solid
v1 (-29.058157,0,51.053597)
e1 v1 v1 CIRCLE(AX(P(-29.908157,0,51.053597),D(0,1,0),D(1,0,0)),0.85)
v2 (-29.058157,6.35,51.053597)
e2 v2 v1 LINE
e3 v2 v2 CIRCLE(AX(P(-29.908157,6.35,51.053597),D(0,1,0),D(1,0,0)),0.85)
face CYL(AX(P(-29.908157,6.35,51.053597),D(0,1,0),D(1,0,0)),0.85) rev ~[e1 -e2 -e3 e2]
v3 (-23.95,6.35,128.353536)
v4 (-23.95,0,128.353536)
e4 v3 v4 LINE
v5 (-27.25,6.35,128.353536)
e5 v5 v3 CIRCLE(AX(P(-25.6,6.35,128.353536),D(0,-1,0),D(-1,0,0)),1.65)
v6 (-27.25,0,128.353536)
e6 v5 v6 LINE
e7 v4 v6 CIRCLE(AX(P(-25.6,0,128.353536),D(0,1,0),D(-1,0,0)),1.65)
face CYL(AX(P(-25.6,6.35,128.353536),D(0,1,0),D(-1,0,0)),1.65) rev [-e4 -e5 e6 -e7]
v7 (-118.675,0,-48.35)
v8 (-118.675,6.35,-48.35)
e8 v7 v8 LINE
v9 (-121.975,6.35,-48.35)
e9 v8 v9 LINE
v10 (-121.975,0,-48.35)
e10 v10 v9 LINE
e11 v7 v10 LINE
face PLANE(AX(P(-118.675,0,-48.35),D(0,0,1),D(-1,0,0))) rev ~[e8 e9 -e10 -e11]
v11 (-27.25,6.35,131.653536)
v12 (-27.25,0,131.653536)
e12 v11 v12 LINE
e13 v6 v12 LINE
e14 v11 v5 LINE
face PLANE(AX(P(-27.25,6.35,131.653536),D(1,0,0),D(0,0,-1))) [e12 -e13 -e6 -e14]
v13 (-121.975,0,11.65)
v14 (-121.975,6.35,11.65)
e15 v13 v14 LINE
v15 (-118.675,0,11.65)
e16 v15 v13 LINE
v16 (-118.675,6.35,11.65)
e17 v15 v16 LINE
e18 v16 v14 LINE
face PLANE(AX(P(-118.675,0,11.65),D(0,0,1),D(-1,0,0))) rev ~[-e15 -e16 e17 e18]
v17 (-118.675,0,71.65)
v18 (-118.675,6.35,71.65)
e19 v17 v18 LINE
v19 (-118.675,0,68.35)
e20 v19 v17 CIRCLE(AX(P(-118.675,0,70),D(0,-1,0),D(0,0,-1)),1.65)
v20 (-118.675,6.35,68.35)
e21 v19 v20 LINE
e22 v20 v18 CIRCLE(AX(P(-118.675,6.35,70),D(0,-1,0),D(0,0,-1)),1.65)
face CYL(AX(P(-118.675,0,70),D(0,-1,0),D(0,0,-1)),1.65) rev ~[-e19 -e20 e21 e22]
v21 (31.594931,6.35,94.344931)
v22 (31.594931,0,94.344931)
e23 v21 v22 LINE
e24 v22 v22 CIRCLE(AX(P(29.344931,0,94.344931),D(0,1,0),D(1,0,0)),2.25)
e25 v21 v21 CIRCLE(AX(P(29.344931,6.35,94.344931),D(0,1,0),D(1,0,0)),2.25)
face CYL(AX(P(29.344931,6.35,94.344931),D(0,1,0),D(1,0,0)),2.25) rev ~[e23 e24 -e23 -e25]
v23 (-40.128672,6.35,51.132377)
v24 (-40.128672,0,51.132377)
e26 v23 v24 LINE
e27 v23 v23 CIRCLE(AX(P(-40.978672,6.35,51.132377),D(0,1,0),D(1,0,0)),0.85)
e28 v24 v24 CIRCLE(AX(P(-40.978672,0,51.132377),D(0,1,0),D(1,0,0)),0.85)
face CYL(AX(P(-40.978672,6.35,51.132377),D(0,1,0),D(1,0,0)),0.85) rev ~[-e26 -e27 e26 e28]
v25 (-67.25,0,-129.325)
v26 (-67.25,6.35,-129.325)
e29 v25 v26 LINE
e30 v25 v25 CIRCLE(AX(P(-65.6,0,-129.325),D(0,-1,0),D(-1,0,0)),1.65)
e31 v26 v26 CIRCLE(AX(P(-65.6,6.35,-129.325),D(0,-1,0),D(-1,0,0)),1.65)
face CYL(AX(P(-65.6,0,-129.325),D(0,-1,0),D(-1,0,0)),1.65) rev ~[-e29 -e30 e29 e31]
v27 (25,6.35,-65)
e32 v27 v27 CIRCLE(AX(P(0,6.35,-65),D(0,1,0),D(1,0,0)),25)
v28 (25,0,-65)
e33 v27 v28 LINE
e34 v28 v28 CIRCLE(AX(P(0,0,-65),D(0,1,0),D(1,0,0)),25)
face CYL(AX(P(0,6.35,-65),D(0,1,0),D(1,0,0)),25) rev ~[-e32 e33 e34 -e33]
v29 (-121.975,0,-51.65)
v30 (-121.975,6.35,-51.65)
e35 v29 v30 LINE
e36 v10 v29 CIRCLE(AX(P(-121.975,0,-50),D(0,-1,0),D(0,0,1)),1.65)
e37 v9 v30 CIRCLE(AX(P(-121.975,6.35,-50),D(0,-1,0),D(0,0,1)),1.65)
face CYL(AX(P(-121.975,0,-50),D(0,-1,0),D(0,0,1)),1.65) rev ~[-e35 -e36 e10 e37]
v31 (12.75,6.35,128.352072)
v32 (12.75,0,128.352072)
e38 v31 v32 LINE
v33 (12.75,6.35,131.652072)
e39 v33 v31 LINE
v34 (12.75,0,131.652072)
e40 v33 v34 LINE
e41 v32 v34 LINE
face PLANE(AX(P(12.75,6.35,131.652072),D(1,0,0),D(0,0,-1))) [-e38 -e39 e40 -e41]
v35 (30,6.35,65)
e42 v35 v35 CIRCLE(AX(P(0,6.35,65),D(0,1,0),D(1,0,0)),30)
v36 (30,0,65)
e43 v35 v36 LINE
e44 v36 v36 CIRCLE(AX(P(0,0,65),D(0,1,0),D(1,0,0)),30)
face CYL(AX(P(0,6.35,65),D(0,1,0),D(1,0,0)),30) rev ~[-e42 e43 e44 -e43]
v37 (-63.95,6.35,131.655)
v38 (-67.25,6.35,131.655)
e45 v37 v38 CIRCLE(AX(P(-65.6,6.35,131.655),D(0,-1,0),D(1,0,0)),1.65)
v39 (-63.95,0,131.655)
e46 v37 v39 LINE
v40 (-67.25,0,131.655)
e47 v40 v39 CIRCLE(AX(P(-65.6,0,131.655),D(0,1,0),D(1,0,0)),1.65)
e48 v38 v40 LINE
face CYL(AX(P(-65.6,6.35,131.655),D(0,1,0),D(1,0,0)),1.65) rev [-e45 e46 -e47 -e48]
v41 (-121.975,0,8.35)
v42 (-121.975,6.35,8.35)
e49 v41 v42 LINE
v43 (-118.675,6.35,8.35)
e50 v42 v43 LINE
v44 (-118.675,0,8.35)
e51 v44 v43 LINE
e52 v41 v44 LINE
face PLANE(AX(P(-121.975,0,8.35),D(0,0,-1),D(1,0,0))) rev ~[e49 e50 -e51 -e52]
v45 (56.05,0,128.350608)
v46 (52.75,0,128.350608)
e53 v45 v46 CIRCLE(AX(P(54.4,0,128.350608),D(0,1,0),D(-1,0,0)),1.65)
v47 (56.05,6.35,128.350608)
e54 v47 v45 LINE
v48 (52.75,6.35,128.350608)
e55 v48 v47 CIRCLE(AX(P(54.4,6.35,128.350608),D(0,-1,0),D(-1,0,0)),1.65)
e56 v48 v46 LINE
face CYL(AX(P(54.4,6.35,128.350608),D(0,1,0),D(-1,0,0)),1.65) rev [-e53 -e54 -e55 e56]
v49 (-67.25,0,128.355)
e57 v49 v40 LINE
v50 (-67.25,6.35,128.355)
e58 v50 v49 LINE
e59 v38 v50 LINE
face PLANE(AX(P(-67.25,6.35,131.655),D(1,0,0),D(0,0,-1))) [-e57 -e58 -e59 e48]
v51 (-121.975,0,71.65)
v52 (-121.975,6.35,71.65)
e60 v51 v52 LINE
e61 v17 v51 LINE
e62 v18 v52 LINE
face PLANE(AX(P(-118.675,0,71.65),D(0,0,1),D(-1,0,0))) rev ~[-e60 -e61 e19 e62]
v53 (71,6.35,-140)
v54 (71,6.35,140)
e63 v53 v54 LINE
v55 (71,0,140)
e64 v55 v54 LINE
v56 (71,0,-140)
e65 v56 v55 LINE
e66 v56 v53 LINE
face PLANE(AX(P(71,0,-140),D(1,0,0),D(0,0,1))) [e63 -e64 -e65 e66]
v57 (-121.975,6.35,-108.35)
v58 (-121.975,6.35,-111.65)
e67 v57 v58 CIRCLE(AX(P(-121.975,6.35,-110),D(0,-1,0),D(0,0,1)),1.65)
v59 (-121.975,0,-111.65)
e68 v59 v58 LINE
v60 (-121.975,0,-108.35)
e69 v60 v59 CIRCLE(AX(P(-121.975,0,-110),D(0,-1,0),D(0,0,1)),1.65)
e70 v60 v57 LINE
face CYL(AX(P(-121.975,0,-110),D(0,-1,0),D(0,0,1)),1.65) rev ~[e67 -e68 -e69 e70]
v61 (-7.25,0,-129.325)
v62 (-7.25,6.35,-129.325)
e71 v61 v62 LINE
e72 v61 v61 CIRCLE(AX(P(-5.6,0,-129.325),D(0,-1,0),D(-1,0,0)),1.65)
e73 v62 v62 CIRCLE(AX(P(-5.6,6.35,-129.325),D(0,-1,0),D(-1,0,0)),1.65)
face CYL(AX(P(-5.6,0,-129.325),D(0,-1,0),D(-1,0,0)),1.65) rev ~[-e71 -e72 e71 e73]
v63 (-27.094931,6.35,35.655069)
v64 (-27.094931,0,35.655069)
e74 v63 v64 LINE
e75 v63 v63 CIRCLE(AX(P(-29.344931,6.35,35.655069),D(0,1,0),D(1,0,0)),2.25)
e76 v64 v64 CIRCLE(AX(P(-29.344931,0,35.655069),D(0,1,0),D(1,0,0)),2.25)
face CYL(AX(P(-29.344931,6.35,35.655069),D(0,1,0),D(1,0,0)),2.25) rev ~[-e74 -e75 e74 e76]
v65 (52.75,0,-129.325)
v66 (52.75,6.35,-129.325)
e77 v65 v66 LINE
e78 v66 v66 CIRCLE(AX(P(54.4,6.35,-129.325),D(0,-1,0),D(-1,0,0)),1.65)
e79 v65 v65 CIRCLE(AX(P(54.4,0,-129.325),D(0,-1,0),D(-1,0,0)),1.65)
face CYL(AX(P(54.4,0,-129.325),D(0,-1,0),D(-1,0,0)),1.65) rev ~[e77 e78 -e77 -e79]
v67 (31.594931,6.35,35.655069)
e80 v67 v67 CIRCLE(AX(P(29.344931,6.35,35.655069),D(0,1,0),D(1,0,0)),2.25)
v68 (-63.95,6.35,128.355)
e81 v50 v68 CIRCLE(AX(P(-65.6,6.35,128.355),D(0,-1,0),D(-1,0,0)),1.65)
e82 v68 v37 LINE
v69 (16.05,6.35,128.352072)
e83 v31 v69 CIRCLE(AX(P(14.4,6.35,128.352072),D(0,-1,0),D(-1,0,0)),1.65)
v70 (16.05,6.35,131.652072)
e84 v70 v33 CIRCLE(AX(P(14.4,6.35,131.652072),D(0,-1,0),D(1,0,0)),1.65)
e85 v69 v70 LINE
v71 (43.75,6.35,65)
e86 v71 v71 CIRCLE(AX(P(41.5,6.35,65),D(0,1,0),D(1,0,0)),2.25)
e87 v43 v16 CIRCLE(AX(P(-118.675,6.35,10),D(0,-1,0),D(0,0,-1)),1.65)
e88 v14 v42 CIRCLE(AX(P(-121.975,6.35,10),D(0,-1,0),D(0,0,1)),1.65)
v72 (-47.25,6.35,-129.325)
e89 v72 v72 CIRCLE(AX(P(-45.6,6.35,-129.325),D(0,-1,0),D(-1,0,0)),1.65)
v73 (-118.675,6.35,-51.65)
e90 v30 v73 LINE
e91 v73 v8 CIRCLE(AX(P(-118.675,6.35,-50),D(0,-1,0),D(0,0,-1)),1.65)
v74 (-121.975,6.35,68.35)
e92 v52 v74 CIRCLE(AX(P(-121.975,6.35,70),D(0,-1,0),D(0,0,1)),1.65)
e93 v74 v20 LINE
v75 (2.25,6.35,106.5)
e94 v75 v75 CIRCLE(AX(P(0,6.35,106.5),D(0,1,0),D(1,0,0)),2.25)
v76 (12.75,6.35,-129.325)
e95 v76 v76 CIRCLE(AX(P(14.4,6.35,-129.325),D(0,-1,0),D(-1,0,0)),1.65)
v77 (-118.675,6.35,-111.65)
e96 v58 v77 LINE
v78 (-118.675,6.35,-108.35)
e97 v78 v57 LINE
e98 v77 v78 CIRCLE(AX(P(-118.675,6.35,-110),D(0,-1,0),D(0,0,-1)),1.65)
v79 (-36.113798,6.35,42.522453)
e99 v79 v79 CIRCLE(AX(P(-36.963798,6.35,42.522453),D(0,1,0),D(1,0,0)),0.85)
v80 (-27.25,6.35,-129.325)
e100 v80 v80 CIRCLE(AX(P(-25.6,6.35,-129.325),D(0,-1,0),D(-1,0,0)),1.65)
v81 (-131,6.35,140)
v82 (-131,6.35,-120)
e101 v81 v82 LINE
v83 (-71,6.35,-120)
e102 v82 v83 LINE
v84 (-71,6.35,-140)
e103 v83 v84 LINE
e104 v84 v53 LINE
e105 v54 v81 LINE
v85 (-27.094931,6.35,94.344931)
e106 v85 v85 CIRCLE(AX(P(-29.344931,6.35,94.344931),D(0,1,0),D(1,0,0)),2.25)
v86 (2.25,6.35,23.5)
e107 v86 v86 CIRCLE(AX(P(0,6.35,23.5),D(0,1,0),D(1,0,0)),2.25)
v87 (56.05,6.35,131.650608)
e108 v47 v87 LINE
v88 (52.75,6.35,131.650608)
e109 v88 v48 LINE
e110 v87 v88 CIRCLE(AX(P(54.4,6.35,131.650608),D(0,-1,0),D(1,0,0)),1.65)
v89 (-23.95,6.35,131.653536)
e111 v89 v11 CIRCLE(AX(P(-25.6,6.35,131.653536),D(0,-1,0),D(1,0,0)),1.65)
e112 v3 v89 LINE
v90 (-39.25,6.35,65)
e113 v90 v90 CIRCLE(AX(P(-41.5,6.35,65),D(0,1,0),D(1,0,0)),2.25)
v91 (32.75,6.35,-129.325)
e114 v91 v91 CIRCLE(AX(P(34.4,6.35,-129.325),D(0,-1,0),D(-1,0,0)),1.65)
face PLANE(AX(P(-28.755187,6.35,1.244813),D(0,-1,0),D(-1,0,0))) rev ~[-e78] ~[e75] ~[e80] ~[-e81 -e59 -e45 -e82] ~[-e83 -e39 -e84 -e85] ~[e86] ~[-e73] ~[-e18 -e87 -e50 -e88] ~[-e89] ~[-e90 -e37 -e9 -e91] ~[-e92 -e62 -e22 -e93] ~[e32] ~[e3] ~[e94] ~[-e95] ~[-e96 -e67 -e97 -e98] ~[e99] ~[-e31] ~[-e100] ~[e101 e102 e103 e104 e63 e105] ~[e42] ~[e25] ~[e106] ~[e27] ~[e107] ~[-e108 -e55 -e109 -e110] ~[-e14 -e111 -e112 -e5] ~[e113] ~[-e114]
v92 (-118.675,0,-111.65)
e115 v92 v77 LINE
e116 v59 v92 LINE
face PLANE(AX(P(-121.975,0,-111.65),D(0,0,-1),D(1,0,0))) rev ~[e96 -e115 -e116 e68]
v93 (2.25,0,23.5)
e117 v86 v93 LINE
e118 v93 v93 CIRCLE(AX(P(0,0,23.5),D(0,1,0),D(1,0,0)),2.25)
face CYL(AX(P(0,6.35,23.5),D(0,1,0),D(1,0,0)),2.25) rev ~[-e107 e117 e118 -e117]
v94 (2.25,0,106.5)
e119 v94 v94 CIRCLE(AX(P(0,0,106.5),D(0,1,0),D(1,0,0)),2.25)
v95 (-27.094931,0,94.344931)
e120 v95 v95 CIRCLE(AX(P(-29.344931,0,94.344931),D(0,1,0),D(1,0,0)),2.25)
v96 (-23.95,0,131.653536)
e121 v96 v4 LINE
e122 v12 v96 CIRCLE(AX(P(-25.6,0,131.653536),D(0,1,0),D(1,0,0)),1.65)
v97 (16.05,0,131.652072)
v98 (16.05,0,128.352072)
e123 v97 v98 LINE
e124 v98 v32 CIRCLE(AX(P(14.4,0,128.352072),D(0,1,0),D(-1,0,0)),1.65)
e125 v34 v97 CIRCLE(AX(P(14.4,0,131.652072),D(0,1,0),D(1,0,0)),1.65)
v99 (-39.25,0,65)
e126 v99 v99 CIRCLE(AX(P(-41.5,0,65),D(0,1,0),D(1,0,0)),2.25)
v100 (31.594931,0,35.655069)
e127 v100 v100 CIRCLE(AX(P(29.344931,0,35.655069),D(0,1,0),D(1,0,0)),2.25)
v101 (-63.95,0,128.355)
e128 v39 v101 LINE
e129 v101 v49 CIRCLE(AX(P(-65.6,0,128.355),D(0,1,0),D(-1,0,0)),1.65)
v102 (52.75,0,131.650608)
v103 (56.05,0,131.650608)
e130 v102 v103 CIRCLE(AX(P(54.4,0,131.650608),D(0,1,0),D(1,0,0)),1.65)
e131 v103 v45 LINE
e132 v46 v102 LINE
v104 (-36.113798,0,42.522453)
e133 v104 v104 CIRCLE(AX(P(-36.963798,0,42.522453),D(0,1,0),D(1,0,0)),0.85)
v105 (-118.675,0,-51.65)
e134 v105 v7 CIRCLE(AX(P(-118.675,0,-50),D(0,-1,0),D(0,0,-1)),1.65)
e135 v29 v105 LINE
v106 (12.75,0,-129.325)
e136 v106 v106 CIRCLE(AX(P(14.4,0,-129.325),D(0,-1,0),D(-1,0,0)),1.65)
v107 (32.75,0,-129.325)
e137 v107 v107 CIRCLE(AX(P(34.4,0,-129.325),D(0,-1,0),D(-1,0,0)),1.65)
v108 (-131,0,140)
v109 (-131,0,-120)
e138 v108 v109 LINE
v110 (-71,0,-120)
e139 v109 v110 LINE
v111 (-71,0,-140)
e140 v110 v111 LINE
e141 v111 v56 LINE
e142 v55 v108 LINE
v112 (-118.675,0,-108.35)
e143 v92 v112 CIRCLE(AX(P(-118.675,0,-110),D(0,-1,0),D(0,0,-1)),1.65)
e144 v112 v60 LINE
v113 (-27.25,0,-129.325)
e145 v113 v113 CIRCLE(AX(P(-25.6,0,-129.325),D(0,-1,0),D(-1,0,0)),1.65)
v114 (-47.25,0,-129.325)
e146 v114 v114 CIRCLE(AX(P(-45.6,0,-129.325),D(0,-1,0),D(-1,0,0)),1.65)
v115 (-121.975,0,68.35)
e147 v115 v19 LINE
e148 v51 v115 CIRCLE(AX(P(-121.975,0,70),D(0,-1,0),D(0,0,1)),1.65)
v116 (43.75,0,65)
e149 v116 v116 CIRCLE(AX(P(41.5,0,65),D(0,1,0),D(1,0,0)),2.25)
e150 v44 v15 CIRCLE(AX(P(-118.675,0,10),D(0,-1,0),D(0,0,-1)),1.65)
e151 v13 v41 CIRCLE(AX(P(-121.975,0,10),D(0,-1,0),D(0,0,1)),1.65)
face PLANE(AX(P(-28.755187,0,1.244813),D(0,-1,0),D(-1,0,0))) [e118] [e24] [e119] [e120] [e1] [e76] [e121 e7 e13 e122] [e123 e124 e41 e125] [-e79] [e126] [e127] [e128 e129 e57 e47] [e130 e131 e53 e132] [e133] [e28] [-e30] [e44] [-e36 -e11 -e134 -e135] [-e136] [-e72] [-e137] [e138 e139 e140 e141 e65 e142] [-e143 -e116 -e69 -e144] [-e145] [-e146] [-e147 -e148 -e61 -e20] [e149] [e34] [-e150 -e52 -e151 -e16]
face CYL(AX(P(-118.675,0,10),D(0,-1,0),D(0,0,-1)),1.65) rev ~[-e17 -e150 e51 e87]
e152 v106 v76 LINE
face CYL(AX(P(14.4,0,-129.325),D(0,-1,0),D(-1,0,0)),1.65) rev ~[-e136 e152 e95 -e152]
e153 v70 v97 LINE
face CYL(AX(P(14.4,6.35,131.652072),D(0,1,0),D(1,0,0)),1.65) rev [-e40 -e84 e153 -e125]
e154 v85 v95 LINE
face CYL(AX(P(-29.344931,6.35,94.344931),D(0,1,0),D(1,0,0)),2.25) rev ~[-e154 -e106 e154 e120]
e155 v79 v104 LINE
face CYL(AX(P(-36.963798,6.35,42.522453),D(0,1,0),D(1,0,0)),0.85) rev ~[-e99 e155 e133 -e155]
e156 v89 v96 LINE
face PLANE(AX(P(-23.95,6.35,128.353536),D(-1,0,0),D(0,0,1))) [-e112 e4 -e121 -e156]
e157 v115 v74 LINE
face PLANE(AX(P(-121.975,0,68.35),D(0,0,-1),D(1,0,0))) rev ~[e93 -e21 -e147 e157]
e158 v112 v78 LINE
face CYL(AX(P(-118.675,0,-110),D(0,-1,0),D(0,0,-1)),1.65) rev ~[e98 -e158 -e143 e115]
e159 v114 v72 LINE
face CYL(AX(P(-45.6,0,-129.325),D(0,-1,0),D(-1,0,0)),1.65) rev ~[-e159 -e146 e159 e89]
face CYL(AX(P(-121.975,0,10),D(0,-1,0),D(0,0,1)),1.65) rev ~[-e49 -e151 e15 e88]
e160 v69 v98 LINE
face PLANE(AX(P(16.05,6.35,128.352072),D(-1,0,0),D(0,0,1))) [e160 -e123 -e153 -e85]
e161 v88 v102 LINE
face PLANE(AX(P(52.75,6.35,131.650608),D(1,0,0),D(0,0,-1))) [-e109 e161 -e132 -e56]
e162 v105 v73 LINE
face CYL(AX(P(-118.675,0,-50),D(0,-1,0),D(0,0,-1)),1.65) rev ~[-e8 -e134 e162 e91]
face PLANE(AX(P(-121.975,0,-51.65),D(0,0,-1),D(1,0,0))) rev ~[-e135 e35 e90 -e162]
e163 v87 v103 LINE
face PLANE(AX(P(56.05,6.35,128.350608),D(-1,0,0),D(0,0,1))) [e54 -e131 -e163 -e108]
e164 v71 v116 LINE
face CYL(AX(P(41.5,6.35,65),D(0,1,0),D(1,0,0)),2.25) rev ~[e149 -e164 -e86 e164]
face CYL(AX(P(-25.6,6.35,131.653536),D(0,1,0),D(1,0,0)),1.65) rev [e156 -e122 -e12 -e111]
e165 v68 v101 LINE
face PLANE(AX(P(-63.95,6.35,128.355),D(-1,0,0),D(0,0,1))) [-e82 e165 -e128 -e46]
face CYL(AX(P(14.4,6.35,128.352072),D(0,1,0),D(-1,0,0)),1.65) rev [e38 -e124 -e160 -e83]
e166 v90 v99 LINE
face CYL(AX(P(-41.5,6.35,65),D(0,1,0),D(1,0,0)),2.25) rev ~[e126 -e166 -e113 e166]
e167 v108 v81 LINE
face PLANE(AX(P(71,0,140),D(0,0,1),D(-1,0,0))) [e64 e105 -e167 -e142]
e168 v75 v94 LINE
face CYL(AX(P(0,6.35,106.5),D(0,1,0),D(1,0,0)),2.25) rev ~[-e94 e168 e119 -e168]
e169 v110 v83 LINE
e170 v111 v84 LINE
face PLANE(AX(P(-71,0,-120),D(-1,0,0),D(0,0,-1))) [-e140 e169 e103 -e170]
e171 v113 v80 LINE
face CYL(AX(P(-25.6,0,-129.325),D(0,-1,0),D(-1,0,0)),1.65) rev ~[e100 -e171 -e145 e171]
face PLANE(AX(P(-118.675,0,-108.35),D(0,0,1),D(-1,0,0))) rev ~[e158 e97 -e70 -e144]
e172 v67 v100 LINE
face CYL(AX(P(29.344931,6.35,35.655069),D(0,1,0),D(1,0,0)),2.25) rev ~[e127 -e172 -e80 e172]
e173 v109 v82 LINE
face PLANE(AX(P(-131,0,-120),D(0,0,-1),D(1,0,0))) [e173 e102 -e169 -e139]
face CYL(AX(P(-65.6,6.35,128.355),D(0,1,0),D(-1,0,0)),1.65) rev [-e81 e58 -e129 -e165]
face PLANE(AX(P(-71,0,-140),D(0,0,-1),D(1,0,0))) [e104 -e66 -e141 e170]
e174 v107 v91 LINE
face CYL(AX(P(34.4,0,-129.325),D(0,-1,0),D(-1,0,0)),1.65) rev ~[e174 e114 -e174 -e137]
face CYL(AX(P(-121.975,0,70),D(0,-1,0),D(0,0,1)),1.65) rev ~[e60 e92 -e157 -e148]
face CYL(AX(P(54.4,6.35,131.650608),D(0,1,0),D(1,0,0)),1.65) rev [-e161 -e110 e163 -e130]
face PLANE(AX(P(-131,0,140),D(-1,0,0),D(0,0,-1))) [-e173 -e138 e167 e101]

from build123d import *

# Parameters (mm, degrees)
BOSS_EXTRUDE1_DEPTH = 6.35
SKETCH2_R           = 2.25
SKETCH2_R_2         = 30
CUT_EXTRUDE1_DEPTH  = 7.35
SKETCH6_R           = 0.85
CUT_EXTRUDE5_DEPTH  = 7.35
SKETCH8_R           = 25
CUT_EXTRUDE9_DEPTH  = 7.35
SKETCH9_R           = 1.65
CUT_EXTRUDE10_DEPTH = 30
CUT_EXTRUDE12_DEPTH = 30
SKETCH10_R          = 1.65
CUT_EXTRUDE13_DEPTH = 10


with BuildPart() as part:
    # Sketch1 → Boss-Extrude1 (new body)
    with BuildSketch(Plane(origin=(0, 0, 0), x_dir=(1, 0, 0), z_dir=(0, 1, 0))):
        Polygon((-71, 140), (71, 140), (71, -140), (-131, -140), (-131, 120), (-71, 120), align=None)
    extrude(amount=BOSS_EXTRUDE1_DEPTH)

    # Sketch2 → Cut-Extrude1 (cut, through all)
    with BuildSketch(Plane(origin=(0, 6.35, 0), x_dir=(1, 0, 0), z_dir=(0, 1, 0))):
        with Locations((0, -23.5)):
            Circle(SKETCH2_R)
        with Locations((29.344931419, -35.655068581)):
            Circle(SKETCH2_R)
        with Locations((41.5, -65)):
            Circle(SKETCH2_R)
        with Locations((29.344931419, -94.344931419)):
            Circle(SKETCH2_R)
        with Locations((0, -106.5)):
            Circle(SKETCH2_R)
        with Locations((-29.344931419, -94.344931419)):
            Circle(SKETCH2_R)
        with Locations((-41.5, -65)):
            Circle(SKETCH2_R)
        with Locations((-29.344931419, -35.655068581)):
            Circle(SKETCH2_R)
        with Locations((0, -65)):
            Circle(SKETCH2_R_2)
    extrude(amount=-CUT_EXTRUDE1_DEPTH, mode=Mode.SUBTRACT)

    # Sketch6 → Cut-Extrude5 (cut, through all)
    with BuildSketch(Plane(origin=(0, 6.35, 0), x_dir=(1, 0, 0), z_dir=(0, 1, 0))):
        with Locations((-36.963798099, -42.522452757)):
            Circle(SKETCH6_R)
        with Locations((-40.978671586, -51.132376734)):
            Circle(SKETCH6_R)
        with Locations((-29.908156972, -51.053597363)):
            Circle(SKETCH6_R)
    extrude(amount=-CUT_EXTRUDE5_DEPTH, mode=Mode.SUBTRACT)

    # Sketch8 → Cut-Extrude9 (cut, through all)
    with BuildSketch(Plane(origin=(0, 6.35, 0), x_dir=(1, 0, 0), z_dir=(0, 1, 0))):
        with Locations((0, 65)):
            Circle(SKETCH8_R)
    extrude(amount=-CUT_EXTRUDE9_DEPTH, mode=Mode.SUBTRACT)

    # Sketch9 → Cut-Extrude10 (cut)
    with BuildSketch(Plane(origin=(0, 0, 0), x_dir=(-1, 0, 0), z_dir=(0, -1, 0))):
        with Locations((45.6, 129.325)):
            Circle(SKETCH9_R)
        with Locations((5.6, 129.325)):
            Circle(SKETCH9_R)
        with Locations((-34.4, 129.325)):
            Circle(SKETCH9_R)
        with Locations((65.6, 129.325)):
            Circle(SKETCH9_R)
        with Locations((25.6, 129.325)):
            Circle(SKETCH9_R)
        with Locations((-14.4, 129.325)):
            Circle(SKETCH9_R)
        with Locations((-54.4, 129.325)):
            Circle(SKETCH9_R)
    extrude(amount=-CUT_EXTRUDE10_DEPTH, mode=Mode.SUBTRACT)

    # Sketch11 → Cut-Extrude12 (cut)
    with BuildSketch(Plane(origin=(0, 6.35, 0), x_dir=(1, 0, 0), z_dir=(0, 1, 0))):
        with BuildLine():
            Line((-63.95, -128.355), (-63.95, -131.655))
            ThreePointArc((-63.95, -131.655), (-65.6, -133.305), (-67.25, -131.655))
            Line((-67.25, -131.655), (-67.25, -128.355))
            ThreePointArc((-67.25, -128.355), (-65.6, -126.705), (-63.95, -128.355))
        make_face()
        with BuildLine():
            Line((-23.95, -128.353535871), (-23.95, -131.653535871))
            ThreePointArc((-23.95, -131.653535871), (-25.6, -133.303535871), (-27.25, -131.653535871))
            Line((-27.25, -131.653535871), (-27.25, -128.353535871))
            ThreePointArc((-27.25, -128.353535871), (-25.6, -126.703535871), (-23.95, -128.353535871))
        make_face()
        with BuildLine():
            Line((16.05, -128.352071742), (16.05, -131.652071742))
            ThreePointArc((16.05, -131.652071742), (14.4, -133.302071742), (12.75, -131.652071742))
            Line((12.75, -131.652071742), (12.75, -128.352071742))
            ThreePointArc((12.75, -128.352071742), (14.4, -126.702071742), (16.05, -128.352071742))
        make_face()
        with BuildLine():
            Line((56.05, -128.350607613), (56.05, -131.650607613))
            ThreePointArc((56.05, -131.650607613), (54.4, -133.300607613), (52.75, -131.650607613))
            Line((52.75, -131.650607613), (52.75, -128.350607613))
            ThreePointArc((52.75, -128.350607613), (54.4, -126.700607613), (56.05, -128.350607613))
        make_face()
    extrude(amount=-CUT_EXTRUDE12_DEPTH, mode=Mode.SUBTRACT)

    # Sketch10 → Cut-Extrude13 (cut)
    with BuildSketch(Plane.XZ):
        with Locations((-120.325, -110)):
            Circle(SKETCH10_R)
        with BuildLine():
            Line((-118.675, -108.35), (-120.325, -108.35))
            ThreePointArc((-120.325, -108.35), (-119.158273811, -108.833273811), (-118.675, -110))
            ThreePointArc((-118.675, -110), (-119.158273801, -111.166726179), (-120.324999972, -111.65))
            Line((-120.324999972, -111.65), (-118.675, -111.65))
            ThreePointArc((-118.675, -111.65), (-117.025, -110), (-118.675, -108.35))
        make_face()
        with BuildLine():
            Line((-120.325, -108.35), (-121.975, -108.35))
            ThreePointArc((-121.975, -108.35), (-123.625, -110), (-121.975, -111.65))
            Line((-121.975, -111.65), (-120.324999972, -111.65))
            ThreePointArc((-120.324999972, -111.65), (-121.975, -110.000000014), (-120.325, -108.35))
        make_face()
        with BuildLine():
            Line((-120.325, -48.35), (-121.975, -48.35))
            ThreePointArc((-121.975, -48.35), (-123.625, -50), (-121.975, -51.65))
            Line((-121.975, -51.65), (-120.325, -51.65))
            ThreePointArc((-120.325, -51.65), (-121.975, -50), (-120.325, -48.35))
        make_face()
        with Locations((-120.325, -50)):
            Circle(SKETCH10_R)
        with BuildLine():
            Line((-118.675, -48.35), (-120.325, -48.35))
            ThreePointArc((-120.325, -48.35), (-119.158273811, -48.833273811), (-118.675, -50))
            ThreePointArc((-118.675, -50), (-119.158273811, -51.166726189), (-120.325, -51.65))
            Line((-120.325, -51.65), (-118.675, -51.65))
            ThreePointArc((-118.675, -51.65), (-117.025, -50), (-118.675, -48.35))
        make_face()
        with BuildLine():
            Line((-120.325, 11.65), (-121.975, 11.65))
            ThreePointArc((-121.975, 11.65), (-123.625, 10), (-121.975, 8.35))
            Line((-121.975, 8.35), (-120.325, 8.35))
            ThreePointArc((-120.325, 8.35), (-121.975, 10), (-120.325, 11.65))
        make_face()
        with Locations((-120.325, 10)):
            Circle(SKETCH10_R)
        with BuildLine():
            Line((-118.675, 11.65), (-120.325, 11.65))
            ThreePointArc((-120.325, 11.65), (-119.158273811, 11.166726189), (-118.675, 10))
            ThreePointArc((-118.675, 10), (-119.158273811, 8.833273811), (-120.325, 8.35))
            Line((-120.325, 8.35), (-118.675, 8.35))
            ThreePointArc((-118.675, 8.35), (-117.025, 10), (-118.675, 11.65))
        make_face()
        with BuildLine():
            Line((-120.325, 71.65), (-121.975, 71.65))
            ThreePointArc((-121.975, 71.65), (-123.625, 70), (-121.975, 68.35))
            Line((-121.975, 68.35), (-120.325, 68.35))
            ThreePointArc((-120.325, 68.35), (-121.975, 70), (-120.325, 71.65))
        make_face()
        with Locations((-120.325, 70)):
            Circle(SKETCH10_R)
        with BuildLine():
            Line((-118.675, 71.65), (-120.325, 71.65))
            ThreePointArc((-120.325, 71.65), (-119.158273811, 71.166726189), (-118.675, 70))
            ThreePointArc((-118.675, 70), (-119.158273811, 68.833273811), (-120.325, 68.35))
            Line((-120.325, 68.35), (-118.675, 68.35))
            ThreePointArc((-118.675, 68.35), (-117.025, 70), (-118.675, 71.65))
        make_face()
    extrude(amount=-CUT_EXTRUDE13_DEPTH, mode=Mode.SUBTRACT)


solid = part.part
